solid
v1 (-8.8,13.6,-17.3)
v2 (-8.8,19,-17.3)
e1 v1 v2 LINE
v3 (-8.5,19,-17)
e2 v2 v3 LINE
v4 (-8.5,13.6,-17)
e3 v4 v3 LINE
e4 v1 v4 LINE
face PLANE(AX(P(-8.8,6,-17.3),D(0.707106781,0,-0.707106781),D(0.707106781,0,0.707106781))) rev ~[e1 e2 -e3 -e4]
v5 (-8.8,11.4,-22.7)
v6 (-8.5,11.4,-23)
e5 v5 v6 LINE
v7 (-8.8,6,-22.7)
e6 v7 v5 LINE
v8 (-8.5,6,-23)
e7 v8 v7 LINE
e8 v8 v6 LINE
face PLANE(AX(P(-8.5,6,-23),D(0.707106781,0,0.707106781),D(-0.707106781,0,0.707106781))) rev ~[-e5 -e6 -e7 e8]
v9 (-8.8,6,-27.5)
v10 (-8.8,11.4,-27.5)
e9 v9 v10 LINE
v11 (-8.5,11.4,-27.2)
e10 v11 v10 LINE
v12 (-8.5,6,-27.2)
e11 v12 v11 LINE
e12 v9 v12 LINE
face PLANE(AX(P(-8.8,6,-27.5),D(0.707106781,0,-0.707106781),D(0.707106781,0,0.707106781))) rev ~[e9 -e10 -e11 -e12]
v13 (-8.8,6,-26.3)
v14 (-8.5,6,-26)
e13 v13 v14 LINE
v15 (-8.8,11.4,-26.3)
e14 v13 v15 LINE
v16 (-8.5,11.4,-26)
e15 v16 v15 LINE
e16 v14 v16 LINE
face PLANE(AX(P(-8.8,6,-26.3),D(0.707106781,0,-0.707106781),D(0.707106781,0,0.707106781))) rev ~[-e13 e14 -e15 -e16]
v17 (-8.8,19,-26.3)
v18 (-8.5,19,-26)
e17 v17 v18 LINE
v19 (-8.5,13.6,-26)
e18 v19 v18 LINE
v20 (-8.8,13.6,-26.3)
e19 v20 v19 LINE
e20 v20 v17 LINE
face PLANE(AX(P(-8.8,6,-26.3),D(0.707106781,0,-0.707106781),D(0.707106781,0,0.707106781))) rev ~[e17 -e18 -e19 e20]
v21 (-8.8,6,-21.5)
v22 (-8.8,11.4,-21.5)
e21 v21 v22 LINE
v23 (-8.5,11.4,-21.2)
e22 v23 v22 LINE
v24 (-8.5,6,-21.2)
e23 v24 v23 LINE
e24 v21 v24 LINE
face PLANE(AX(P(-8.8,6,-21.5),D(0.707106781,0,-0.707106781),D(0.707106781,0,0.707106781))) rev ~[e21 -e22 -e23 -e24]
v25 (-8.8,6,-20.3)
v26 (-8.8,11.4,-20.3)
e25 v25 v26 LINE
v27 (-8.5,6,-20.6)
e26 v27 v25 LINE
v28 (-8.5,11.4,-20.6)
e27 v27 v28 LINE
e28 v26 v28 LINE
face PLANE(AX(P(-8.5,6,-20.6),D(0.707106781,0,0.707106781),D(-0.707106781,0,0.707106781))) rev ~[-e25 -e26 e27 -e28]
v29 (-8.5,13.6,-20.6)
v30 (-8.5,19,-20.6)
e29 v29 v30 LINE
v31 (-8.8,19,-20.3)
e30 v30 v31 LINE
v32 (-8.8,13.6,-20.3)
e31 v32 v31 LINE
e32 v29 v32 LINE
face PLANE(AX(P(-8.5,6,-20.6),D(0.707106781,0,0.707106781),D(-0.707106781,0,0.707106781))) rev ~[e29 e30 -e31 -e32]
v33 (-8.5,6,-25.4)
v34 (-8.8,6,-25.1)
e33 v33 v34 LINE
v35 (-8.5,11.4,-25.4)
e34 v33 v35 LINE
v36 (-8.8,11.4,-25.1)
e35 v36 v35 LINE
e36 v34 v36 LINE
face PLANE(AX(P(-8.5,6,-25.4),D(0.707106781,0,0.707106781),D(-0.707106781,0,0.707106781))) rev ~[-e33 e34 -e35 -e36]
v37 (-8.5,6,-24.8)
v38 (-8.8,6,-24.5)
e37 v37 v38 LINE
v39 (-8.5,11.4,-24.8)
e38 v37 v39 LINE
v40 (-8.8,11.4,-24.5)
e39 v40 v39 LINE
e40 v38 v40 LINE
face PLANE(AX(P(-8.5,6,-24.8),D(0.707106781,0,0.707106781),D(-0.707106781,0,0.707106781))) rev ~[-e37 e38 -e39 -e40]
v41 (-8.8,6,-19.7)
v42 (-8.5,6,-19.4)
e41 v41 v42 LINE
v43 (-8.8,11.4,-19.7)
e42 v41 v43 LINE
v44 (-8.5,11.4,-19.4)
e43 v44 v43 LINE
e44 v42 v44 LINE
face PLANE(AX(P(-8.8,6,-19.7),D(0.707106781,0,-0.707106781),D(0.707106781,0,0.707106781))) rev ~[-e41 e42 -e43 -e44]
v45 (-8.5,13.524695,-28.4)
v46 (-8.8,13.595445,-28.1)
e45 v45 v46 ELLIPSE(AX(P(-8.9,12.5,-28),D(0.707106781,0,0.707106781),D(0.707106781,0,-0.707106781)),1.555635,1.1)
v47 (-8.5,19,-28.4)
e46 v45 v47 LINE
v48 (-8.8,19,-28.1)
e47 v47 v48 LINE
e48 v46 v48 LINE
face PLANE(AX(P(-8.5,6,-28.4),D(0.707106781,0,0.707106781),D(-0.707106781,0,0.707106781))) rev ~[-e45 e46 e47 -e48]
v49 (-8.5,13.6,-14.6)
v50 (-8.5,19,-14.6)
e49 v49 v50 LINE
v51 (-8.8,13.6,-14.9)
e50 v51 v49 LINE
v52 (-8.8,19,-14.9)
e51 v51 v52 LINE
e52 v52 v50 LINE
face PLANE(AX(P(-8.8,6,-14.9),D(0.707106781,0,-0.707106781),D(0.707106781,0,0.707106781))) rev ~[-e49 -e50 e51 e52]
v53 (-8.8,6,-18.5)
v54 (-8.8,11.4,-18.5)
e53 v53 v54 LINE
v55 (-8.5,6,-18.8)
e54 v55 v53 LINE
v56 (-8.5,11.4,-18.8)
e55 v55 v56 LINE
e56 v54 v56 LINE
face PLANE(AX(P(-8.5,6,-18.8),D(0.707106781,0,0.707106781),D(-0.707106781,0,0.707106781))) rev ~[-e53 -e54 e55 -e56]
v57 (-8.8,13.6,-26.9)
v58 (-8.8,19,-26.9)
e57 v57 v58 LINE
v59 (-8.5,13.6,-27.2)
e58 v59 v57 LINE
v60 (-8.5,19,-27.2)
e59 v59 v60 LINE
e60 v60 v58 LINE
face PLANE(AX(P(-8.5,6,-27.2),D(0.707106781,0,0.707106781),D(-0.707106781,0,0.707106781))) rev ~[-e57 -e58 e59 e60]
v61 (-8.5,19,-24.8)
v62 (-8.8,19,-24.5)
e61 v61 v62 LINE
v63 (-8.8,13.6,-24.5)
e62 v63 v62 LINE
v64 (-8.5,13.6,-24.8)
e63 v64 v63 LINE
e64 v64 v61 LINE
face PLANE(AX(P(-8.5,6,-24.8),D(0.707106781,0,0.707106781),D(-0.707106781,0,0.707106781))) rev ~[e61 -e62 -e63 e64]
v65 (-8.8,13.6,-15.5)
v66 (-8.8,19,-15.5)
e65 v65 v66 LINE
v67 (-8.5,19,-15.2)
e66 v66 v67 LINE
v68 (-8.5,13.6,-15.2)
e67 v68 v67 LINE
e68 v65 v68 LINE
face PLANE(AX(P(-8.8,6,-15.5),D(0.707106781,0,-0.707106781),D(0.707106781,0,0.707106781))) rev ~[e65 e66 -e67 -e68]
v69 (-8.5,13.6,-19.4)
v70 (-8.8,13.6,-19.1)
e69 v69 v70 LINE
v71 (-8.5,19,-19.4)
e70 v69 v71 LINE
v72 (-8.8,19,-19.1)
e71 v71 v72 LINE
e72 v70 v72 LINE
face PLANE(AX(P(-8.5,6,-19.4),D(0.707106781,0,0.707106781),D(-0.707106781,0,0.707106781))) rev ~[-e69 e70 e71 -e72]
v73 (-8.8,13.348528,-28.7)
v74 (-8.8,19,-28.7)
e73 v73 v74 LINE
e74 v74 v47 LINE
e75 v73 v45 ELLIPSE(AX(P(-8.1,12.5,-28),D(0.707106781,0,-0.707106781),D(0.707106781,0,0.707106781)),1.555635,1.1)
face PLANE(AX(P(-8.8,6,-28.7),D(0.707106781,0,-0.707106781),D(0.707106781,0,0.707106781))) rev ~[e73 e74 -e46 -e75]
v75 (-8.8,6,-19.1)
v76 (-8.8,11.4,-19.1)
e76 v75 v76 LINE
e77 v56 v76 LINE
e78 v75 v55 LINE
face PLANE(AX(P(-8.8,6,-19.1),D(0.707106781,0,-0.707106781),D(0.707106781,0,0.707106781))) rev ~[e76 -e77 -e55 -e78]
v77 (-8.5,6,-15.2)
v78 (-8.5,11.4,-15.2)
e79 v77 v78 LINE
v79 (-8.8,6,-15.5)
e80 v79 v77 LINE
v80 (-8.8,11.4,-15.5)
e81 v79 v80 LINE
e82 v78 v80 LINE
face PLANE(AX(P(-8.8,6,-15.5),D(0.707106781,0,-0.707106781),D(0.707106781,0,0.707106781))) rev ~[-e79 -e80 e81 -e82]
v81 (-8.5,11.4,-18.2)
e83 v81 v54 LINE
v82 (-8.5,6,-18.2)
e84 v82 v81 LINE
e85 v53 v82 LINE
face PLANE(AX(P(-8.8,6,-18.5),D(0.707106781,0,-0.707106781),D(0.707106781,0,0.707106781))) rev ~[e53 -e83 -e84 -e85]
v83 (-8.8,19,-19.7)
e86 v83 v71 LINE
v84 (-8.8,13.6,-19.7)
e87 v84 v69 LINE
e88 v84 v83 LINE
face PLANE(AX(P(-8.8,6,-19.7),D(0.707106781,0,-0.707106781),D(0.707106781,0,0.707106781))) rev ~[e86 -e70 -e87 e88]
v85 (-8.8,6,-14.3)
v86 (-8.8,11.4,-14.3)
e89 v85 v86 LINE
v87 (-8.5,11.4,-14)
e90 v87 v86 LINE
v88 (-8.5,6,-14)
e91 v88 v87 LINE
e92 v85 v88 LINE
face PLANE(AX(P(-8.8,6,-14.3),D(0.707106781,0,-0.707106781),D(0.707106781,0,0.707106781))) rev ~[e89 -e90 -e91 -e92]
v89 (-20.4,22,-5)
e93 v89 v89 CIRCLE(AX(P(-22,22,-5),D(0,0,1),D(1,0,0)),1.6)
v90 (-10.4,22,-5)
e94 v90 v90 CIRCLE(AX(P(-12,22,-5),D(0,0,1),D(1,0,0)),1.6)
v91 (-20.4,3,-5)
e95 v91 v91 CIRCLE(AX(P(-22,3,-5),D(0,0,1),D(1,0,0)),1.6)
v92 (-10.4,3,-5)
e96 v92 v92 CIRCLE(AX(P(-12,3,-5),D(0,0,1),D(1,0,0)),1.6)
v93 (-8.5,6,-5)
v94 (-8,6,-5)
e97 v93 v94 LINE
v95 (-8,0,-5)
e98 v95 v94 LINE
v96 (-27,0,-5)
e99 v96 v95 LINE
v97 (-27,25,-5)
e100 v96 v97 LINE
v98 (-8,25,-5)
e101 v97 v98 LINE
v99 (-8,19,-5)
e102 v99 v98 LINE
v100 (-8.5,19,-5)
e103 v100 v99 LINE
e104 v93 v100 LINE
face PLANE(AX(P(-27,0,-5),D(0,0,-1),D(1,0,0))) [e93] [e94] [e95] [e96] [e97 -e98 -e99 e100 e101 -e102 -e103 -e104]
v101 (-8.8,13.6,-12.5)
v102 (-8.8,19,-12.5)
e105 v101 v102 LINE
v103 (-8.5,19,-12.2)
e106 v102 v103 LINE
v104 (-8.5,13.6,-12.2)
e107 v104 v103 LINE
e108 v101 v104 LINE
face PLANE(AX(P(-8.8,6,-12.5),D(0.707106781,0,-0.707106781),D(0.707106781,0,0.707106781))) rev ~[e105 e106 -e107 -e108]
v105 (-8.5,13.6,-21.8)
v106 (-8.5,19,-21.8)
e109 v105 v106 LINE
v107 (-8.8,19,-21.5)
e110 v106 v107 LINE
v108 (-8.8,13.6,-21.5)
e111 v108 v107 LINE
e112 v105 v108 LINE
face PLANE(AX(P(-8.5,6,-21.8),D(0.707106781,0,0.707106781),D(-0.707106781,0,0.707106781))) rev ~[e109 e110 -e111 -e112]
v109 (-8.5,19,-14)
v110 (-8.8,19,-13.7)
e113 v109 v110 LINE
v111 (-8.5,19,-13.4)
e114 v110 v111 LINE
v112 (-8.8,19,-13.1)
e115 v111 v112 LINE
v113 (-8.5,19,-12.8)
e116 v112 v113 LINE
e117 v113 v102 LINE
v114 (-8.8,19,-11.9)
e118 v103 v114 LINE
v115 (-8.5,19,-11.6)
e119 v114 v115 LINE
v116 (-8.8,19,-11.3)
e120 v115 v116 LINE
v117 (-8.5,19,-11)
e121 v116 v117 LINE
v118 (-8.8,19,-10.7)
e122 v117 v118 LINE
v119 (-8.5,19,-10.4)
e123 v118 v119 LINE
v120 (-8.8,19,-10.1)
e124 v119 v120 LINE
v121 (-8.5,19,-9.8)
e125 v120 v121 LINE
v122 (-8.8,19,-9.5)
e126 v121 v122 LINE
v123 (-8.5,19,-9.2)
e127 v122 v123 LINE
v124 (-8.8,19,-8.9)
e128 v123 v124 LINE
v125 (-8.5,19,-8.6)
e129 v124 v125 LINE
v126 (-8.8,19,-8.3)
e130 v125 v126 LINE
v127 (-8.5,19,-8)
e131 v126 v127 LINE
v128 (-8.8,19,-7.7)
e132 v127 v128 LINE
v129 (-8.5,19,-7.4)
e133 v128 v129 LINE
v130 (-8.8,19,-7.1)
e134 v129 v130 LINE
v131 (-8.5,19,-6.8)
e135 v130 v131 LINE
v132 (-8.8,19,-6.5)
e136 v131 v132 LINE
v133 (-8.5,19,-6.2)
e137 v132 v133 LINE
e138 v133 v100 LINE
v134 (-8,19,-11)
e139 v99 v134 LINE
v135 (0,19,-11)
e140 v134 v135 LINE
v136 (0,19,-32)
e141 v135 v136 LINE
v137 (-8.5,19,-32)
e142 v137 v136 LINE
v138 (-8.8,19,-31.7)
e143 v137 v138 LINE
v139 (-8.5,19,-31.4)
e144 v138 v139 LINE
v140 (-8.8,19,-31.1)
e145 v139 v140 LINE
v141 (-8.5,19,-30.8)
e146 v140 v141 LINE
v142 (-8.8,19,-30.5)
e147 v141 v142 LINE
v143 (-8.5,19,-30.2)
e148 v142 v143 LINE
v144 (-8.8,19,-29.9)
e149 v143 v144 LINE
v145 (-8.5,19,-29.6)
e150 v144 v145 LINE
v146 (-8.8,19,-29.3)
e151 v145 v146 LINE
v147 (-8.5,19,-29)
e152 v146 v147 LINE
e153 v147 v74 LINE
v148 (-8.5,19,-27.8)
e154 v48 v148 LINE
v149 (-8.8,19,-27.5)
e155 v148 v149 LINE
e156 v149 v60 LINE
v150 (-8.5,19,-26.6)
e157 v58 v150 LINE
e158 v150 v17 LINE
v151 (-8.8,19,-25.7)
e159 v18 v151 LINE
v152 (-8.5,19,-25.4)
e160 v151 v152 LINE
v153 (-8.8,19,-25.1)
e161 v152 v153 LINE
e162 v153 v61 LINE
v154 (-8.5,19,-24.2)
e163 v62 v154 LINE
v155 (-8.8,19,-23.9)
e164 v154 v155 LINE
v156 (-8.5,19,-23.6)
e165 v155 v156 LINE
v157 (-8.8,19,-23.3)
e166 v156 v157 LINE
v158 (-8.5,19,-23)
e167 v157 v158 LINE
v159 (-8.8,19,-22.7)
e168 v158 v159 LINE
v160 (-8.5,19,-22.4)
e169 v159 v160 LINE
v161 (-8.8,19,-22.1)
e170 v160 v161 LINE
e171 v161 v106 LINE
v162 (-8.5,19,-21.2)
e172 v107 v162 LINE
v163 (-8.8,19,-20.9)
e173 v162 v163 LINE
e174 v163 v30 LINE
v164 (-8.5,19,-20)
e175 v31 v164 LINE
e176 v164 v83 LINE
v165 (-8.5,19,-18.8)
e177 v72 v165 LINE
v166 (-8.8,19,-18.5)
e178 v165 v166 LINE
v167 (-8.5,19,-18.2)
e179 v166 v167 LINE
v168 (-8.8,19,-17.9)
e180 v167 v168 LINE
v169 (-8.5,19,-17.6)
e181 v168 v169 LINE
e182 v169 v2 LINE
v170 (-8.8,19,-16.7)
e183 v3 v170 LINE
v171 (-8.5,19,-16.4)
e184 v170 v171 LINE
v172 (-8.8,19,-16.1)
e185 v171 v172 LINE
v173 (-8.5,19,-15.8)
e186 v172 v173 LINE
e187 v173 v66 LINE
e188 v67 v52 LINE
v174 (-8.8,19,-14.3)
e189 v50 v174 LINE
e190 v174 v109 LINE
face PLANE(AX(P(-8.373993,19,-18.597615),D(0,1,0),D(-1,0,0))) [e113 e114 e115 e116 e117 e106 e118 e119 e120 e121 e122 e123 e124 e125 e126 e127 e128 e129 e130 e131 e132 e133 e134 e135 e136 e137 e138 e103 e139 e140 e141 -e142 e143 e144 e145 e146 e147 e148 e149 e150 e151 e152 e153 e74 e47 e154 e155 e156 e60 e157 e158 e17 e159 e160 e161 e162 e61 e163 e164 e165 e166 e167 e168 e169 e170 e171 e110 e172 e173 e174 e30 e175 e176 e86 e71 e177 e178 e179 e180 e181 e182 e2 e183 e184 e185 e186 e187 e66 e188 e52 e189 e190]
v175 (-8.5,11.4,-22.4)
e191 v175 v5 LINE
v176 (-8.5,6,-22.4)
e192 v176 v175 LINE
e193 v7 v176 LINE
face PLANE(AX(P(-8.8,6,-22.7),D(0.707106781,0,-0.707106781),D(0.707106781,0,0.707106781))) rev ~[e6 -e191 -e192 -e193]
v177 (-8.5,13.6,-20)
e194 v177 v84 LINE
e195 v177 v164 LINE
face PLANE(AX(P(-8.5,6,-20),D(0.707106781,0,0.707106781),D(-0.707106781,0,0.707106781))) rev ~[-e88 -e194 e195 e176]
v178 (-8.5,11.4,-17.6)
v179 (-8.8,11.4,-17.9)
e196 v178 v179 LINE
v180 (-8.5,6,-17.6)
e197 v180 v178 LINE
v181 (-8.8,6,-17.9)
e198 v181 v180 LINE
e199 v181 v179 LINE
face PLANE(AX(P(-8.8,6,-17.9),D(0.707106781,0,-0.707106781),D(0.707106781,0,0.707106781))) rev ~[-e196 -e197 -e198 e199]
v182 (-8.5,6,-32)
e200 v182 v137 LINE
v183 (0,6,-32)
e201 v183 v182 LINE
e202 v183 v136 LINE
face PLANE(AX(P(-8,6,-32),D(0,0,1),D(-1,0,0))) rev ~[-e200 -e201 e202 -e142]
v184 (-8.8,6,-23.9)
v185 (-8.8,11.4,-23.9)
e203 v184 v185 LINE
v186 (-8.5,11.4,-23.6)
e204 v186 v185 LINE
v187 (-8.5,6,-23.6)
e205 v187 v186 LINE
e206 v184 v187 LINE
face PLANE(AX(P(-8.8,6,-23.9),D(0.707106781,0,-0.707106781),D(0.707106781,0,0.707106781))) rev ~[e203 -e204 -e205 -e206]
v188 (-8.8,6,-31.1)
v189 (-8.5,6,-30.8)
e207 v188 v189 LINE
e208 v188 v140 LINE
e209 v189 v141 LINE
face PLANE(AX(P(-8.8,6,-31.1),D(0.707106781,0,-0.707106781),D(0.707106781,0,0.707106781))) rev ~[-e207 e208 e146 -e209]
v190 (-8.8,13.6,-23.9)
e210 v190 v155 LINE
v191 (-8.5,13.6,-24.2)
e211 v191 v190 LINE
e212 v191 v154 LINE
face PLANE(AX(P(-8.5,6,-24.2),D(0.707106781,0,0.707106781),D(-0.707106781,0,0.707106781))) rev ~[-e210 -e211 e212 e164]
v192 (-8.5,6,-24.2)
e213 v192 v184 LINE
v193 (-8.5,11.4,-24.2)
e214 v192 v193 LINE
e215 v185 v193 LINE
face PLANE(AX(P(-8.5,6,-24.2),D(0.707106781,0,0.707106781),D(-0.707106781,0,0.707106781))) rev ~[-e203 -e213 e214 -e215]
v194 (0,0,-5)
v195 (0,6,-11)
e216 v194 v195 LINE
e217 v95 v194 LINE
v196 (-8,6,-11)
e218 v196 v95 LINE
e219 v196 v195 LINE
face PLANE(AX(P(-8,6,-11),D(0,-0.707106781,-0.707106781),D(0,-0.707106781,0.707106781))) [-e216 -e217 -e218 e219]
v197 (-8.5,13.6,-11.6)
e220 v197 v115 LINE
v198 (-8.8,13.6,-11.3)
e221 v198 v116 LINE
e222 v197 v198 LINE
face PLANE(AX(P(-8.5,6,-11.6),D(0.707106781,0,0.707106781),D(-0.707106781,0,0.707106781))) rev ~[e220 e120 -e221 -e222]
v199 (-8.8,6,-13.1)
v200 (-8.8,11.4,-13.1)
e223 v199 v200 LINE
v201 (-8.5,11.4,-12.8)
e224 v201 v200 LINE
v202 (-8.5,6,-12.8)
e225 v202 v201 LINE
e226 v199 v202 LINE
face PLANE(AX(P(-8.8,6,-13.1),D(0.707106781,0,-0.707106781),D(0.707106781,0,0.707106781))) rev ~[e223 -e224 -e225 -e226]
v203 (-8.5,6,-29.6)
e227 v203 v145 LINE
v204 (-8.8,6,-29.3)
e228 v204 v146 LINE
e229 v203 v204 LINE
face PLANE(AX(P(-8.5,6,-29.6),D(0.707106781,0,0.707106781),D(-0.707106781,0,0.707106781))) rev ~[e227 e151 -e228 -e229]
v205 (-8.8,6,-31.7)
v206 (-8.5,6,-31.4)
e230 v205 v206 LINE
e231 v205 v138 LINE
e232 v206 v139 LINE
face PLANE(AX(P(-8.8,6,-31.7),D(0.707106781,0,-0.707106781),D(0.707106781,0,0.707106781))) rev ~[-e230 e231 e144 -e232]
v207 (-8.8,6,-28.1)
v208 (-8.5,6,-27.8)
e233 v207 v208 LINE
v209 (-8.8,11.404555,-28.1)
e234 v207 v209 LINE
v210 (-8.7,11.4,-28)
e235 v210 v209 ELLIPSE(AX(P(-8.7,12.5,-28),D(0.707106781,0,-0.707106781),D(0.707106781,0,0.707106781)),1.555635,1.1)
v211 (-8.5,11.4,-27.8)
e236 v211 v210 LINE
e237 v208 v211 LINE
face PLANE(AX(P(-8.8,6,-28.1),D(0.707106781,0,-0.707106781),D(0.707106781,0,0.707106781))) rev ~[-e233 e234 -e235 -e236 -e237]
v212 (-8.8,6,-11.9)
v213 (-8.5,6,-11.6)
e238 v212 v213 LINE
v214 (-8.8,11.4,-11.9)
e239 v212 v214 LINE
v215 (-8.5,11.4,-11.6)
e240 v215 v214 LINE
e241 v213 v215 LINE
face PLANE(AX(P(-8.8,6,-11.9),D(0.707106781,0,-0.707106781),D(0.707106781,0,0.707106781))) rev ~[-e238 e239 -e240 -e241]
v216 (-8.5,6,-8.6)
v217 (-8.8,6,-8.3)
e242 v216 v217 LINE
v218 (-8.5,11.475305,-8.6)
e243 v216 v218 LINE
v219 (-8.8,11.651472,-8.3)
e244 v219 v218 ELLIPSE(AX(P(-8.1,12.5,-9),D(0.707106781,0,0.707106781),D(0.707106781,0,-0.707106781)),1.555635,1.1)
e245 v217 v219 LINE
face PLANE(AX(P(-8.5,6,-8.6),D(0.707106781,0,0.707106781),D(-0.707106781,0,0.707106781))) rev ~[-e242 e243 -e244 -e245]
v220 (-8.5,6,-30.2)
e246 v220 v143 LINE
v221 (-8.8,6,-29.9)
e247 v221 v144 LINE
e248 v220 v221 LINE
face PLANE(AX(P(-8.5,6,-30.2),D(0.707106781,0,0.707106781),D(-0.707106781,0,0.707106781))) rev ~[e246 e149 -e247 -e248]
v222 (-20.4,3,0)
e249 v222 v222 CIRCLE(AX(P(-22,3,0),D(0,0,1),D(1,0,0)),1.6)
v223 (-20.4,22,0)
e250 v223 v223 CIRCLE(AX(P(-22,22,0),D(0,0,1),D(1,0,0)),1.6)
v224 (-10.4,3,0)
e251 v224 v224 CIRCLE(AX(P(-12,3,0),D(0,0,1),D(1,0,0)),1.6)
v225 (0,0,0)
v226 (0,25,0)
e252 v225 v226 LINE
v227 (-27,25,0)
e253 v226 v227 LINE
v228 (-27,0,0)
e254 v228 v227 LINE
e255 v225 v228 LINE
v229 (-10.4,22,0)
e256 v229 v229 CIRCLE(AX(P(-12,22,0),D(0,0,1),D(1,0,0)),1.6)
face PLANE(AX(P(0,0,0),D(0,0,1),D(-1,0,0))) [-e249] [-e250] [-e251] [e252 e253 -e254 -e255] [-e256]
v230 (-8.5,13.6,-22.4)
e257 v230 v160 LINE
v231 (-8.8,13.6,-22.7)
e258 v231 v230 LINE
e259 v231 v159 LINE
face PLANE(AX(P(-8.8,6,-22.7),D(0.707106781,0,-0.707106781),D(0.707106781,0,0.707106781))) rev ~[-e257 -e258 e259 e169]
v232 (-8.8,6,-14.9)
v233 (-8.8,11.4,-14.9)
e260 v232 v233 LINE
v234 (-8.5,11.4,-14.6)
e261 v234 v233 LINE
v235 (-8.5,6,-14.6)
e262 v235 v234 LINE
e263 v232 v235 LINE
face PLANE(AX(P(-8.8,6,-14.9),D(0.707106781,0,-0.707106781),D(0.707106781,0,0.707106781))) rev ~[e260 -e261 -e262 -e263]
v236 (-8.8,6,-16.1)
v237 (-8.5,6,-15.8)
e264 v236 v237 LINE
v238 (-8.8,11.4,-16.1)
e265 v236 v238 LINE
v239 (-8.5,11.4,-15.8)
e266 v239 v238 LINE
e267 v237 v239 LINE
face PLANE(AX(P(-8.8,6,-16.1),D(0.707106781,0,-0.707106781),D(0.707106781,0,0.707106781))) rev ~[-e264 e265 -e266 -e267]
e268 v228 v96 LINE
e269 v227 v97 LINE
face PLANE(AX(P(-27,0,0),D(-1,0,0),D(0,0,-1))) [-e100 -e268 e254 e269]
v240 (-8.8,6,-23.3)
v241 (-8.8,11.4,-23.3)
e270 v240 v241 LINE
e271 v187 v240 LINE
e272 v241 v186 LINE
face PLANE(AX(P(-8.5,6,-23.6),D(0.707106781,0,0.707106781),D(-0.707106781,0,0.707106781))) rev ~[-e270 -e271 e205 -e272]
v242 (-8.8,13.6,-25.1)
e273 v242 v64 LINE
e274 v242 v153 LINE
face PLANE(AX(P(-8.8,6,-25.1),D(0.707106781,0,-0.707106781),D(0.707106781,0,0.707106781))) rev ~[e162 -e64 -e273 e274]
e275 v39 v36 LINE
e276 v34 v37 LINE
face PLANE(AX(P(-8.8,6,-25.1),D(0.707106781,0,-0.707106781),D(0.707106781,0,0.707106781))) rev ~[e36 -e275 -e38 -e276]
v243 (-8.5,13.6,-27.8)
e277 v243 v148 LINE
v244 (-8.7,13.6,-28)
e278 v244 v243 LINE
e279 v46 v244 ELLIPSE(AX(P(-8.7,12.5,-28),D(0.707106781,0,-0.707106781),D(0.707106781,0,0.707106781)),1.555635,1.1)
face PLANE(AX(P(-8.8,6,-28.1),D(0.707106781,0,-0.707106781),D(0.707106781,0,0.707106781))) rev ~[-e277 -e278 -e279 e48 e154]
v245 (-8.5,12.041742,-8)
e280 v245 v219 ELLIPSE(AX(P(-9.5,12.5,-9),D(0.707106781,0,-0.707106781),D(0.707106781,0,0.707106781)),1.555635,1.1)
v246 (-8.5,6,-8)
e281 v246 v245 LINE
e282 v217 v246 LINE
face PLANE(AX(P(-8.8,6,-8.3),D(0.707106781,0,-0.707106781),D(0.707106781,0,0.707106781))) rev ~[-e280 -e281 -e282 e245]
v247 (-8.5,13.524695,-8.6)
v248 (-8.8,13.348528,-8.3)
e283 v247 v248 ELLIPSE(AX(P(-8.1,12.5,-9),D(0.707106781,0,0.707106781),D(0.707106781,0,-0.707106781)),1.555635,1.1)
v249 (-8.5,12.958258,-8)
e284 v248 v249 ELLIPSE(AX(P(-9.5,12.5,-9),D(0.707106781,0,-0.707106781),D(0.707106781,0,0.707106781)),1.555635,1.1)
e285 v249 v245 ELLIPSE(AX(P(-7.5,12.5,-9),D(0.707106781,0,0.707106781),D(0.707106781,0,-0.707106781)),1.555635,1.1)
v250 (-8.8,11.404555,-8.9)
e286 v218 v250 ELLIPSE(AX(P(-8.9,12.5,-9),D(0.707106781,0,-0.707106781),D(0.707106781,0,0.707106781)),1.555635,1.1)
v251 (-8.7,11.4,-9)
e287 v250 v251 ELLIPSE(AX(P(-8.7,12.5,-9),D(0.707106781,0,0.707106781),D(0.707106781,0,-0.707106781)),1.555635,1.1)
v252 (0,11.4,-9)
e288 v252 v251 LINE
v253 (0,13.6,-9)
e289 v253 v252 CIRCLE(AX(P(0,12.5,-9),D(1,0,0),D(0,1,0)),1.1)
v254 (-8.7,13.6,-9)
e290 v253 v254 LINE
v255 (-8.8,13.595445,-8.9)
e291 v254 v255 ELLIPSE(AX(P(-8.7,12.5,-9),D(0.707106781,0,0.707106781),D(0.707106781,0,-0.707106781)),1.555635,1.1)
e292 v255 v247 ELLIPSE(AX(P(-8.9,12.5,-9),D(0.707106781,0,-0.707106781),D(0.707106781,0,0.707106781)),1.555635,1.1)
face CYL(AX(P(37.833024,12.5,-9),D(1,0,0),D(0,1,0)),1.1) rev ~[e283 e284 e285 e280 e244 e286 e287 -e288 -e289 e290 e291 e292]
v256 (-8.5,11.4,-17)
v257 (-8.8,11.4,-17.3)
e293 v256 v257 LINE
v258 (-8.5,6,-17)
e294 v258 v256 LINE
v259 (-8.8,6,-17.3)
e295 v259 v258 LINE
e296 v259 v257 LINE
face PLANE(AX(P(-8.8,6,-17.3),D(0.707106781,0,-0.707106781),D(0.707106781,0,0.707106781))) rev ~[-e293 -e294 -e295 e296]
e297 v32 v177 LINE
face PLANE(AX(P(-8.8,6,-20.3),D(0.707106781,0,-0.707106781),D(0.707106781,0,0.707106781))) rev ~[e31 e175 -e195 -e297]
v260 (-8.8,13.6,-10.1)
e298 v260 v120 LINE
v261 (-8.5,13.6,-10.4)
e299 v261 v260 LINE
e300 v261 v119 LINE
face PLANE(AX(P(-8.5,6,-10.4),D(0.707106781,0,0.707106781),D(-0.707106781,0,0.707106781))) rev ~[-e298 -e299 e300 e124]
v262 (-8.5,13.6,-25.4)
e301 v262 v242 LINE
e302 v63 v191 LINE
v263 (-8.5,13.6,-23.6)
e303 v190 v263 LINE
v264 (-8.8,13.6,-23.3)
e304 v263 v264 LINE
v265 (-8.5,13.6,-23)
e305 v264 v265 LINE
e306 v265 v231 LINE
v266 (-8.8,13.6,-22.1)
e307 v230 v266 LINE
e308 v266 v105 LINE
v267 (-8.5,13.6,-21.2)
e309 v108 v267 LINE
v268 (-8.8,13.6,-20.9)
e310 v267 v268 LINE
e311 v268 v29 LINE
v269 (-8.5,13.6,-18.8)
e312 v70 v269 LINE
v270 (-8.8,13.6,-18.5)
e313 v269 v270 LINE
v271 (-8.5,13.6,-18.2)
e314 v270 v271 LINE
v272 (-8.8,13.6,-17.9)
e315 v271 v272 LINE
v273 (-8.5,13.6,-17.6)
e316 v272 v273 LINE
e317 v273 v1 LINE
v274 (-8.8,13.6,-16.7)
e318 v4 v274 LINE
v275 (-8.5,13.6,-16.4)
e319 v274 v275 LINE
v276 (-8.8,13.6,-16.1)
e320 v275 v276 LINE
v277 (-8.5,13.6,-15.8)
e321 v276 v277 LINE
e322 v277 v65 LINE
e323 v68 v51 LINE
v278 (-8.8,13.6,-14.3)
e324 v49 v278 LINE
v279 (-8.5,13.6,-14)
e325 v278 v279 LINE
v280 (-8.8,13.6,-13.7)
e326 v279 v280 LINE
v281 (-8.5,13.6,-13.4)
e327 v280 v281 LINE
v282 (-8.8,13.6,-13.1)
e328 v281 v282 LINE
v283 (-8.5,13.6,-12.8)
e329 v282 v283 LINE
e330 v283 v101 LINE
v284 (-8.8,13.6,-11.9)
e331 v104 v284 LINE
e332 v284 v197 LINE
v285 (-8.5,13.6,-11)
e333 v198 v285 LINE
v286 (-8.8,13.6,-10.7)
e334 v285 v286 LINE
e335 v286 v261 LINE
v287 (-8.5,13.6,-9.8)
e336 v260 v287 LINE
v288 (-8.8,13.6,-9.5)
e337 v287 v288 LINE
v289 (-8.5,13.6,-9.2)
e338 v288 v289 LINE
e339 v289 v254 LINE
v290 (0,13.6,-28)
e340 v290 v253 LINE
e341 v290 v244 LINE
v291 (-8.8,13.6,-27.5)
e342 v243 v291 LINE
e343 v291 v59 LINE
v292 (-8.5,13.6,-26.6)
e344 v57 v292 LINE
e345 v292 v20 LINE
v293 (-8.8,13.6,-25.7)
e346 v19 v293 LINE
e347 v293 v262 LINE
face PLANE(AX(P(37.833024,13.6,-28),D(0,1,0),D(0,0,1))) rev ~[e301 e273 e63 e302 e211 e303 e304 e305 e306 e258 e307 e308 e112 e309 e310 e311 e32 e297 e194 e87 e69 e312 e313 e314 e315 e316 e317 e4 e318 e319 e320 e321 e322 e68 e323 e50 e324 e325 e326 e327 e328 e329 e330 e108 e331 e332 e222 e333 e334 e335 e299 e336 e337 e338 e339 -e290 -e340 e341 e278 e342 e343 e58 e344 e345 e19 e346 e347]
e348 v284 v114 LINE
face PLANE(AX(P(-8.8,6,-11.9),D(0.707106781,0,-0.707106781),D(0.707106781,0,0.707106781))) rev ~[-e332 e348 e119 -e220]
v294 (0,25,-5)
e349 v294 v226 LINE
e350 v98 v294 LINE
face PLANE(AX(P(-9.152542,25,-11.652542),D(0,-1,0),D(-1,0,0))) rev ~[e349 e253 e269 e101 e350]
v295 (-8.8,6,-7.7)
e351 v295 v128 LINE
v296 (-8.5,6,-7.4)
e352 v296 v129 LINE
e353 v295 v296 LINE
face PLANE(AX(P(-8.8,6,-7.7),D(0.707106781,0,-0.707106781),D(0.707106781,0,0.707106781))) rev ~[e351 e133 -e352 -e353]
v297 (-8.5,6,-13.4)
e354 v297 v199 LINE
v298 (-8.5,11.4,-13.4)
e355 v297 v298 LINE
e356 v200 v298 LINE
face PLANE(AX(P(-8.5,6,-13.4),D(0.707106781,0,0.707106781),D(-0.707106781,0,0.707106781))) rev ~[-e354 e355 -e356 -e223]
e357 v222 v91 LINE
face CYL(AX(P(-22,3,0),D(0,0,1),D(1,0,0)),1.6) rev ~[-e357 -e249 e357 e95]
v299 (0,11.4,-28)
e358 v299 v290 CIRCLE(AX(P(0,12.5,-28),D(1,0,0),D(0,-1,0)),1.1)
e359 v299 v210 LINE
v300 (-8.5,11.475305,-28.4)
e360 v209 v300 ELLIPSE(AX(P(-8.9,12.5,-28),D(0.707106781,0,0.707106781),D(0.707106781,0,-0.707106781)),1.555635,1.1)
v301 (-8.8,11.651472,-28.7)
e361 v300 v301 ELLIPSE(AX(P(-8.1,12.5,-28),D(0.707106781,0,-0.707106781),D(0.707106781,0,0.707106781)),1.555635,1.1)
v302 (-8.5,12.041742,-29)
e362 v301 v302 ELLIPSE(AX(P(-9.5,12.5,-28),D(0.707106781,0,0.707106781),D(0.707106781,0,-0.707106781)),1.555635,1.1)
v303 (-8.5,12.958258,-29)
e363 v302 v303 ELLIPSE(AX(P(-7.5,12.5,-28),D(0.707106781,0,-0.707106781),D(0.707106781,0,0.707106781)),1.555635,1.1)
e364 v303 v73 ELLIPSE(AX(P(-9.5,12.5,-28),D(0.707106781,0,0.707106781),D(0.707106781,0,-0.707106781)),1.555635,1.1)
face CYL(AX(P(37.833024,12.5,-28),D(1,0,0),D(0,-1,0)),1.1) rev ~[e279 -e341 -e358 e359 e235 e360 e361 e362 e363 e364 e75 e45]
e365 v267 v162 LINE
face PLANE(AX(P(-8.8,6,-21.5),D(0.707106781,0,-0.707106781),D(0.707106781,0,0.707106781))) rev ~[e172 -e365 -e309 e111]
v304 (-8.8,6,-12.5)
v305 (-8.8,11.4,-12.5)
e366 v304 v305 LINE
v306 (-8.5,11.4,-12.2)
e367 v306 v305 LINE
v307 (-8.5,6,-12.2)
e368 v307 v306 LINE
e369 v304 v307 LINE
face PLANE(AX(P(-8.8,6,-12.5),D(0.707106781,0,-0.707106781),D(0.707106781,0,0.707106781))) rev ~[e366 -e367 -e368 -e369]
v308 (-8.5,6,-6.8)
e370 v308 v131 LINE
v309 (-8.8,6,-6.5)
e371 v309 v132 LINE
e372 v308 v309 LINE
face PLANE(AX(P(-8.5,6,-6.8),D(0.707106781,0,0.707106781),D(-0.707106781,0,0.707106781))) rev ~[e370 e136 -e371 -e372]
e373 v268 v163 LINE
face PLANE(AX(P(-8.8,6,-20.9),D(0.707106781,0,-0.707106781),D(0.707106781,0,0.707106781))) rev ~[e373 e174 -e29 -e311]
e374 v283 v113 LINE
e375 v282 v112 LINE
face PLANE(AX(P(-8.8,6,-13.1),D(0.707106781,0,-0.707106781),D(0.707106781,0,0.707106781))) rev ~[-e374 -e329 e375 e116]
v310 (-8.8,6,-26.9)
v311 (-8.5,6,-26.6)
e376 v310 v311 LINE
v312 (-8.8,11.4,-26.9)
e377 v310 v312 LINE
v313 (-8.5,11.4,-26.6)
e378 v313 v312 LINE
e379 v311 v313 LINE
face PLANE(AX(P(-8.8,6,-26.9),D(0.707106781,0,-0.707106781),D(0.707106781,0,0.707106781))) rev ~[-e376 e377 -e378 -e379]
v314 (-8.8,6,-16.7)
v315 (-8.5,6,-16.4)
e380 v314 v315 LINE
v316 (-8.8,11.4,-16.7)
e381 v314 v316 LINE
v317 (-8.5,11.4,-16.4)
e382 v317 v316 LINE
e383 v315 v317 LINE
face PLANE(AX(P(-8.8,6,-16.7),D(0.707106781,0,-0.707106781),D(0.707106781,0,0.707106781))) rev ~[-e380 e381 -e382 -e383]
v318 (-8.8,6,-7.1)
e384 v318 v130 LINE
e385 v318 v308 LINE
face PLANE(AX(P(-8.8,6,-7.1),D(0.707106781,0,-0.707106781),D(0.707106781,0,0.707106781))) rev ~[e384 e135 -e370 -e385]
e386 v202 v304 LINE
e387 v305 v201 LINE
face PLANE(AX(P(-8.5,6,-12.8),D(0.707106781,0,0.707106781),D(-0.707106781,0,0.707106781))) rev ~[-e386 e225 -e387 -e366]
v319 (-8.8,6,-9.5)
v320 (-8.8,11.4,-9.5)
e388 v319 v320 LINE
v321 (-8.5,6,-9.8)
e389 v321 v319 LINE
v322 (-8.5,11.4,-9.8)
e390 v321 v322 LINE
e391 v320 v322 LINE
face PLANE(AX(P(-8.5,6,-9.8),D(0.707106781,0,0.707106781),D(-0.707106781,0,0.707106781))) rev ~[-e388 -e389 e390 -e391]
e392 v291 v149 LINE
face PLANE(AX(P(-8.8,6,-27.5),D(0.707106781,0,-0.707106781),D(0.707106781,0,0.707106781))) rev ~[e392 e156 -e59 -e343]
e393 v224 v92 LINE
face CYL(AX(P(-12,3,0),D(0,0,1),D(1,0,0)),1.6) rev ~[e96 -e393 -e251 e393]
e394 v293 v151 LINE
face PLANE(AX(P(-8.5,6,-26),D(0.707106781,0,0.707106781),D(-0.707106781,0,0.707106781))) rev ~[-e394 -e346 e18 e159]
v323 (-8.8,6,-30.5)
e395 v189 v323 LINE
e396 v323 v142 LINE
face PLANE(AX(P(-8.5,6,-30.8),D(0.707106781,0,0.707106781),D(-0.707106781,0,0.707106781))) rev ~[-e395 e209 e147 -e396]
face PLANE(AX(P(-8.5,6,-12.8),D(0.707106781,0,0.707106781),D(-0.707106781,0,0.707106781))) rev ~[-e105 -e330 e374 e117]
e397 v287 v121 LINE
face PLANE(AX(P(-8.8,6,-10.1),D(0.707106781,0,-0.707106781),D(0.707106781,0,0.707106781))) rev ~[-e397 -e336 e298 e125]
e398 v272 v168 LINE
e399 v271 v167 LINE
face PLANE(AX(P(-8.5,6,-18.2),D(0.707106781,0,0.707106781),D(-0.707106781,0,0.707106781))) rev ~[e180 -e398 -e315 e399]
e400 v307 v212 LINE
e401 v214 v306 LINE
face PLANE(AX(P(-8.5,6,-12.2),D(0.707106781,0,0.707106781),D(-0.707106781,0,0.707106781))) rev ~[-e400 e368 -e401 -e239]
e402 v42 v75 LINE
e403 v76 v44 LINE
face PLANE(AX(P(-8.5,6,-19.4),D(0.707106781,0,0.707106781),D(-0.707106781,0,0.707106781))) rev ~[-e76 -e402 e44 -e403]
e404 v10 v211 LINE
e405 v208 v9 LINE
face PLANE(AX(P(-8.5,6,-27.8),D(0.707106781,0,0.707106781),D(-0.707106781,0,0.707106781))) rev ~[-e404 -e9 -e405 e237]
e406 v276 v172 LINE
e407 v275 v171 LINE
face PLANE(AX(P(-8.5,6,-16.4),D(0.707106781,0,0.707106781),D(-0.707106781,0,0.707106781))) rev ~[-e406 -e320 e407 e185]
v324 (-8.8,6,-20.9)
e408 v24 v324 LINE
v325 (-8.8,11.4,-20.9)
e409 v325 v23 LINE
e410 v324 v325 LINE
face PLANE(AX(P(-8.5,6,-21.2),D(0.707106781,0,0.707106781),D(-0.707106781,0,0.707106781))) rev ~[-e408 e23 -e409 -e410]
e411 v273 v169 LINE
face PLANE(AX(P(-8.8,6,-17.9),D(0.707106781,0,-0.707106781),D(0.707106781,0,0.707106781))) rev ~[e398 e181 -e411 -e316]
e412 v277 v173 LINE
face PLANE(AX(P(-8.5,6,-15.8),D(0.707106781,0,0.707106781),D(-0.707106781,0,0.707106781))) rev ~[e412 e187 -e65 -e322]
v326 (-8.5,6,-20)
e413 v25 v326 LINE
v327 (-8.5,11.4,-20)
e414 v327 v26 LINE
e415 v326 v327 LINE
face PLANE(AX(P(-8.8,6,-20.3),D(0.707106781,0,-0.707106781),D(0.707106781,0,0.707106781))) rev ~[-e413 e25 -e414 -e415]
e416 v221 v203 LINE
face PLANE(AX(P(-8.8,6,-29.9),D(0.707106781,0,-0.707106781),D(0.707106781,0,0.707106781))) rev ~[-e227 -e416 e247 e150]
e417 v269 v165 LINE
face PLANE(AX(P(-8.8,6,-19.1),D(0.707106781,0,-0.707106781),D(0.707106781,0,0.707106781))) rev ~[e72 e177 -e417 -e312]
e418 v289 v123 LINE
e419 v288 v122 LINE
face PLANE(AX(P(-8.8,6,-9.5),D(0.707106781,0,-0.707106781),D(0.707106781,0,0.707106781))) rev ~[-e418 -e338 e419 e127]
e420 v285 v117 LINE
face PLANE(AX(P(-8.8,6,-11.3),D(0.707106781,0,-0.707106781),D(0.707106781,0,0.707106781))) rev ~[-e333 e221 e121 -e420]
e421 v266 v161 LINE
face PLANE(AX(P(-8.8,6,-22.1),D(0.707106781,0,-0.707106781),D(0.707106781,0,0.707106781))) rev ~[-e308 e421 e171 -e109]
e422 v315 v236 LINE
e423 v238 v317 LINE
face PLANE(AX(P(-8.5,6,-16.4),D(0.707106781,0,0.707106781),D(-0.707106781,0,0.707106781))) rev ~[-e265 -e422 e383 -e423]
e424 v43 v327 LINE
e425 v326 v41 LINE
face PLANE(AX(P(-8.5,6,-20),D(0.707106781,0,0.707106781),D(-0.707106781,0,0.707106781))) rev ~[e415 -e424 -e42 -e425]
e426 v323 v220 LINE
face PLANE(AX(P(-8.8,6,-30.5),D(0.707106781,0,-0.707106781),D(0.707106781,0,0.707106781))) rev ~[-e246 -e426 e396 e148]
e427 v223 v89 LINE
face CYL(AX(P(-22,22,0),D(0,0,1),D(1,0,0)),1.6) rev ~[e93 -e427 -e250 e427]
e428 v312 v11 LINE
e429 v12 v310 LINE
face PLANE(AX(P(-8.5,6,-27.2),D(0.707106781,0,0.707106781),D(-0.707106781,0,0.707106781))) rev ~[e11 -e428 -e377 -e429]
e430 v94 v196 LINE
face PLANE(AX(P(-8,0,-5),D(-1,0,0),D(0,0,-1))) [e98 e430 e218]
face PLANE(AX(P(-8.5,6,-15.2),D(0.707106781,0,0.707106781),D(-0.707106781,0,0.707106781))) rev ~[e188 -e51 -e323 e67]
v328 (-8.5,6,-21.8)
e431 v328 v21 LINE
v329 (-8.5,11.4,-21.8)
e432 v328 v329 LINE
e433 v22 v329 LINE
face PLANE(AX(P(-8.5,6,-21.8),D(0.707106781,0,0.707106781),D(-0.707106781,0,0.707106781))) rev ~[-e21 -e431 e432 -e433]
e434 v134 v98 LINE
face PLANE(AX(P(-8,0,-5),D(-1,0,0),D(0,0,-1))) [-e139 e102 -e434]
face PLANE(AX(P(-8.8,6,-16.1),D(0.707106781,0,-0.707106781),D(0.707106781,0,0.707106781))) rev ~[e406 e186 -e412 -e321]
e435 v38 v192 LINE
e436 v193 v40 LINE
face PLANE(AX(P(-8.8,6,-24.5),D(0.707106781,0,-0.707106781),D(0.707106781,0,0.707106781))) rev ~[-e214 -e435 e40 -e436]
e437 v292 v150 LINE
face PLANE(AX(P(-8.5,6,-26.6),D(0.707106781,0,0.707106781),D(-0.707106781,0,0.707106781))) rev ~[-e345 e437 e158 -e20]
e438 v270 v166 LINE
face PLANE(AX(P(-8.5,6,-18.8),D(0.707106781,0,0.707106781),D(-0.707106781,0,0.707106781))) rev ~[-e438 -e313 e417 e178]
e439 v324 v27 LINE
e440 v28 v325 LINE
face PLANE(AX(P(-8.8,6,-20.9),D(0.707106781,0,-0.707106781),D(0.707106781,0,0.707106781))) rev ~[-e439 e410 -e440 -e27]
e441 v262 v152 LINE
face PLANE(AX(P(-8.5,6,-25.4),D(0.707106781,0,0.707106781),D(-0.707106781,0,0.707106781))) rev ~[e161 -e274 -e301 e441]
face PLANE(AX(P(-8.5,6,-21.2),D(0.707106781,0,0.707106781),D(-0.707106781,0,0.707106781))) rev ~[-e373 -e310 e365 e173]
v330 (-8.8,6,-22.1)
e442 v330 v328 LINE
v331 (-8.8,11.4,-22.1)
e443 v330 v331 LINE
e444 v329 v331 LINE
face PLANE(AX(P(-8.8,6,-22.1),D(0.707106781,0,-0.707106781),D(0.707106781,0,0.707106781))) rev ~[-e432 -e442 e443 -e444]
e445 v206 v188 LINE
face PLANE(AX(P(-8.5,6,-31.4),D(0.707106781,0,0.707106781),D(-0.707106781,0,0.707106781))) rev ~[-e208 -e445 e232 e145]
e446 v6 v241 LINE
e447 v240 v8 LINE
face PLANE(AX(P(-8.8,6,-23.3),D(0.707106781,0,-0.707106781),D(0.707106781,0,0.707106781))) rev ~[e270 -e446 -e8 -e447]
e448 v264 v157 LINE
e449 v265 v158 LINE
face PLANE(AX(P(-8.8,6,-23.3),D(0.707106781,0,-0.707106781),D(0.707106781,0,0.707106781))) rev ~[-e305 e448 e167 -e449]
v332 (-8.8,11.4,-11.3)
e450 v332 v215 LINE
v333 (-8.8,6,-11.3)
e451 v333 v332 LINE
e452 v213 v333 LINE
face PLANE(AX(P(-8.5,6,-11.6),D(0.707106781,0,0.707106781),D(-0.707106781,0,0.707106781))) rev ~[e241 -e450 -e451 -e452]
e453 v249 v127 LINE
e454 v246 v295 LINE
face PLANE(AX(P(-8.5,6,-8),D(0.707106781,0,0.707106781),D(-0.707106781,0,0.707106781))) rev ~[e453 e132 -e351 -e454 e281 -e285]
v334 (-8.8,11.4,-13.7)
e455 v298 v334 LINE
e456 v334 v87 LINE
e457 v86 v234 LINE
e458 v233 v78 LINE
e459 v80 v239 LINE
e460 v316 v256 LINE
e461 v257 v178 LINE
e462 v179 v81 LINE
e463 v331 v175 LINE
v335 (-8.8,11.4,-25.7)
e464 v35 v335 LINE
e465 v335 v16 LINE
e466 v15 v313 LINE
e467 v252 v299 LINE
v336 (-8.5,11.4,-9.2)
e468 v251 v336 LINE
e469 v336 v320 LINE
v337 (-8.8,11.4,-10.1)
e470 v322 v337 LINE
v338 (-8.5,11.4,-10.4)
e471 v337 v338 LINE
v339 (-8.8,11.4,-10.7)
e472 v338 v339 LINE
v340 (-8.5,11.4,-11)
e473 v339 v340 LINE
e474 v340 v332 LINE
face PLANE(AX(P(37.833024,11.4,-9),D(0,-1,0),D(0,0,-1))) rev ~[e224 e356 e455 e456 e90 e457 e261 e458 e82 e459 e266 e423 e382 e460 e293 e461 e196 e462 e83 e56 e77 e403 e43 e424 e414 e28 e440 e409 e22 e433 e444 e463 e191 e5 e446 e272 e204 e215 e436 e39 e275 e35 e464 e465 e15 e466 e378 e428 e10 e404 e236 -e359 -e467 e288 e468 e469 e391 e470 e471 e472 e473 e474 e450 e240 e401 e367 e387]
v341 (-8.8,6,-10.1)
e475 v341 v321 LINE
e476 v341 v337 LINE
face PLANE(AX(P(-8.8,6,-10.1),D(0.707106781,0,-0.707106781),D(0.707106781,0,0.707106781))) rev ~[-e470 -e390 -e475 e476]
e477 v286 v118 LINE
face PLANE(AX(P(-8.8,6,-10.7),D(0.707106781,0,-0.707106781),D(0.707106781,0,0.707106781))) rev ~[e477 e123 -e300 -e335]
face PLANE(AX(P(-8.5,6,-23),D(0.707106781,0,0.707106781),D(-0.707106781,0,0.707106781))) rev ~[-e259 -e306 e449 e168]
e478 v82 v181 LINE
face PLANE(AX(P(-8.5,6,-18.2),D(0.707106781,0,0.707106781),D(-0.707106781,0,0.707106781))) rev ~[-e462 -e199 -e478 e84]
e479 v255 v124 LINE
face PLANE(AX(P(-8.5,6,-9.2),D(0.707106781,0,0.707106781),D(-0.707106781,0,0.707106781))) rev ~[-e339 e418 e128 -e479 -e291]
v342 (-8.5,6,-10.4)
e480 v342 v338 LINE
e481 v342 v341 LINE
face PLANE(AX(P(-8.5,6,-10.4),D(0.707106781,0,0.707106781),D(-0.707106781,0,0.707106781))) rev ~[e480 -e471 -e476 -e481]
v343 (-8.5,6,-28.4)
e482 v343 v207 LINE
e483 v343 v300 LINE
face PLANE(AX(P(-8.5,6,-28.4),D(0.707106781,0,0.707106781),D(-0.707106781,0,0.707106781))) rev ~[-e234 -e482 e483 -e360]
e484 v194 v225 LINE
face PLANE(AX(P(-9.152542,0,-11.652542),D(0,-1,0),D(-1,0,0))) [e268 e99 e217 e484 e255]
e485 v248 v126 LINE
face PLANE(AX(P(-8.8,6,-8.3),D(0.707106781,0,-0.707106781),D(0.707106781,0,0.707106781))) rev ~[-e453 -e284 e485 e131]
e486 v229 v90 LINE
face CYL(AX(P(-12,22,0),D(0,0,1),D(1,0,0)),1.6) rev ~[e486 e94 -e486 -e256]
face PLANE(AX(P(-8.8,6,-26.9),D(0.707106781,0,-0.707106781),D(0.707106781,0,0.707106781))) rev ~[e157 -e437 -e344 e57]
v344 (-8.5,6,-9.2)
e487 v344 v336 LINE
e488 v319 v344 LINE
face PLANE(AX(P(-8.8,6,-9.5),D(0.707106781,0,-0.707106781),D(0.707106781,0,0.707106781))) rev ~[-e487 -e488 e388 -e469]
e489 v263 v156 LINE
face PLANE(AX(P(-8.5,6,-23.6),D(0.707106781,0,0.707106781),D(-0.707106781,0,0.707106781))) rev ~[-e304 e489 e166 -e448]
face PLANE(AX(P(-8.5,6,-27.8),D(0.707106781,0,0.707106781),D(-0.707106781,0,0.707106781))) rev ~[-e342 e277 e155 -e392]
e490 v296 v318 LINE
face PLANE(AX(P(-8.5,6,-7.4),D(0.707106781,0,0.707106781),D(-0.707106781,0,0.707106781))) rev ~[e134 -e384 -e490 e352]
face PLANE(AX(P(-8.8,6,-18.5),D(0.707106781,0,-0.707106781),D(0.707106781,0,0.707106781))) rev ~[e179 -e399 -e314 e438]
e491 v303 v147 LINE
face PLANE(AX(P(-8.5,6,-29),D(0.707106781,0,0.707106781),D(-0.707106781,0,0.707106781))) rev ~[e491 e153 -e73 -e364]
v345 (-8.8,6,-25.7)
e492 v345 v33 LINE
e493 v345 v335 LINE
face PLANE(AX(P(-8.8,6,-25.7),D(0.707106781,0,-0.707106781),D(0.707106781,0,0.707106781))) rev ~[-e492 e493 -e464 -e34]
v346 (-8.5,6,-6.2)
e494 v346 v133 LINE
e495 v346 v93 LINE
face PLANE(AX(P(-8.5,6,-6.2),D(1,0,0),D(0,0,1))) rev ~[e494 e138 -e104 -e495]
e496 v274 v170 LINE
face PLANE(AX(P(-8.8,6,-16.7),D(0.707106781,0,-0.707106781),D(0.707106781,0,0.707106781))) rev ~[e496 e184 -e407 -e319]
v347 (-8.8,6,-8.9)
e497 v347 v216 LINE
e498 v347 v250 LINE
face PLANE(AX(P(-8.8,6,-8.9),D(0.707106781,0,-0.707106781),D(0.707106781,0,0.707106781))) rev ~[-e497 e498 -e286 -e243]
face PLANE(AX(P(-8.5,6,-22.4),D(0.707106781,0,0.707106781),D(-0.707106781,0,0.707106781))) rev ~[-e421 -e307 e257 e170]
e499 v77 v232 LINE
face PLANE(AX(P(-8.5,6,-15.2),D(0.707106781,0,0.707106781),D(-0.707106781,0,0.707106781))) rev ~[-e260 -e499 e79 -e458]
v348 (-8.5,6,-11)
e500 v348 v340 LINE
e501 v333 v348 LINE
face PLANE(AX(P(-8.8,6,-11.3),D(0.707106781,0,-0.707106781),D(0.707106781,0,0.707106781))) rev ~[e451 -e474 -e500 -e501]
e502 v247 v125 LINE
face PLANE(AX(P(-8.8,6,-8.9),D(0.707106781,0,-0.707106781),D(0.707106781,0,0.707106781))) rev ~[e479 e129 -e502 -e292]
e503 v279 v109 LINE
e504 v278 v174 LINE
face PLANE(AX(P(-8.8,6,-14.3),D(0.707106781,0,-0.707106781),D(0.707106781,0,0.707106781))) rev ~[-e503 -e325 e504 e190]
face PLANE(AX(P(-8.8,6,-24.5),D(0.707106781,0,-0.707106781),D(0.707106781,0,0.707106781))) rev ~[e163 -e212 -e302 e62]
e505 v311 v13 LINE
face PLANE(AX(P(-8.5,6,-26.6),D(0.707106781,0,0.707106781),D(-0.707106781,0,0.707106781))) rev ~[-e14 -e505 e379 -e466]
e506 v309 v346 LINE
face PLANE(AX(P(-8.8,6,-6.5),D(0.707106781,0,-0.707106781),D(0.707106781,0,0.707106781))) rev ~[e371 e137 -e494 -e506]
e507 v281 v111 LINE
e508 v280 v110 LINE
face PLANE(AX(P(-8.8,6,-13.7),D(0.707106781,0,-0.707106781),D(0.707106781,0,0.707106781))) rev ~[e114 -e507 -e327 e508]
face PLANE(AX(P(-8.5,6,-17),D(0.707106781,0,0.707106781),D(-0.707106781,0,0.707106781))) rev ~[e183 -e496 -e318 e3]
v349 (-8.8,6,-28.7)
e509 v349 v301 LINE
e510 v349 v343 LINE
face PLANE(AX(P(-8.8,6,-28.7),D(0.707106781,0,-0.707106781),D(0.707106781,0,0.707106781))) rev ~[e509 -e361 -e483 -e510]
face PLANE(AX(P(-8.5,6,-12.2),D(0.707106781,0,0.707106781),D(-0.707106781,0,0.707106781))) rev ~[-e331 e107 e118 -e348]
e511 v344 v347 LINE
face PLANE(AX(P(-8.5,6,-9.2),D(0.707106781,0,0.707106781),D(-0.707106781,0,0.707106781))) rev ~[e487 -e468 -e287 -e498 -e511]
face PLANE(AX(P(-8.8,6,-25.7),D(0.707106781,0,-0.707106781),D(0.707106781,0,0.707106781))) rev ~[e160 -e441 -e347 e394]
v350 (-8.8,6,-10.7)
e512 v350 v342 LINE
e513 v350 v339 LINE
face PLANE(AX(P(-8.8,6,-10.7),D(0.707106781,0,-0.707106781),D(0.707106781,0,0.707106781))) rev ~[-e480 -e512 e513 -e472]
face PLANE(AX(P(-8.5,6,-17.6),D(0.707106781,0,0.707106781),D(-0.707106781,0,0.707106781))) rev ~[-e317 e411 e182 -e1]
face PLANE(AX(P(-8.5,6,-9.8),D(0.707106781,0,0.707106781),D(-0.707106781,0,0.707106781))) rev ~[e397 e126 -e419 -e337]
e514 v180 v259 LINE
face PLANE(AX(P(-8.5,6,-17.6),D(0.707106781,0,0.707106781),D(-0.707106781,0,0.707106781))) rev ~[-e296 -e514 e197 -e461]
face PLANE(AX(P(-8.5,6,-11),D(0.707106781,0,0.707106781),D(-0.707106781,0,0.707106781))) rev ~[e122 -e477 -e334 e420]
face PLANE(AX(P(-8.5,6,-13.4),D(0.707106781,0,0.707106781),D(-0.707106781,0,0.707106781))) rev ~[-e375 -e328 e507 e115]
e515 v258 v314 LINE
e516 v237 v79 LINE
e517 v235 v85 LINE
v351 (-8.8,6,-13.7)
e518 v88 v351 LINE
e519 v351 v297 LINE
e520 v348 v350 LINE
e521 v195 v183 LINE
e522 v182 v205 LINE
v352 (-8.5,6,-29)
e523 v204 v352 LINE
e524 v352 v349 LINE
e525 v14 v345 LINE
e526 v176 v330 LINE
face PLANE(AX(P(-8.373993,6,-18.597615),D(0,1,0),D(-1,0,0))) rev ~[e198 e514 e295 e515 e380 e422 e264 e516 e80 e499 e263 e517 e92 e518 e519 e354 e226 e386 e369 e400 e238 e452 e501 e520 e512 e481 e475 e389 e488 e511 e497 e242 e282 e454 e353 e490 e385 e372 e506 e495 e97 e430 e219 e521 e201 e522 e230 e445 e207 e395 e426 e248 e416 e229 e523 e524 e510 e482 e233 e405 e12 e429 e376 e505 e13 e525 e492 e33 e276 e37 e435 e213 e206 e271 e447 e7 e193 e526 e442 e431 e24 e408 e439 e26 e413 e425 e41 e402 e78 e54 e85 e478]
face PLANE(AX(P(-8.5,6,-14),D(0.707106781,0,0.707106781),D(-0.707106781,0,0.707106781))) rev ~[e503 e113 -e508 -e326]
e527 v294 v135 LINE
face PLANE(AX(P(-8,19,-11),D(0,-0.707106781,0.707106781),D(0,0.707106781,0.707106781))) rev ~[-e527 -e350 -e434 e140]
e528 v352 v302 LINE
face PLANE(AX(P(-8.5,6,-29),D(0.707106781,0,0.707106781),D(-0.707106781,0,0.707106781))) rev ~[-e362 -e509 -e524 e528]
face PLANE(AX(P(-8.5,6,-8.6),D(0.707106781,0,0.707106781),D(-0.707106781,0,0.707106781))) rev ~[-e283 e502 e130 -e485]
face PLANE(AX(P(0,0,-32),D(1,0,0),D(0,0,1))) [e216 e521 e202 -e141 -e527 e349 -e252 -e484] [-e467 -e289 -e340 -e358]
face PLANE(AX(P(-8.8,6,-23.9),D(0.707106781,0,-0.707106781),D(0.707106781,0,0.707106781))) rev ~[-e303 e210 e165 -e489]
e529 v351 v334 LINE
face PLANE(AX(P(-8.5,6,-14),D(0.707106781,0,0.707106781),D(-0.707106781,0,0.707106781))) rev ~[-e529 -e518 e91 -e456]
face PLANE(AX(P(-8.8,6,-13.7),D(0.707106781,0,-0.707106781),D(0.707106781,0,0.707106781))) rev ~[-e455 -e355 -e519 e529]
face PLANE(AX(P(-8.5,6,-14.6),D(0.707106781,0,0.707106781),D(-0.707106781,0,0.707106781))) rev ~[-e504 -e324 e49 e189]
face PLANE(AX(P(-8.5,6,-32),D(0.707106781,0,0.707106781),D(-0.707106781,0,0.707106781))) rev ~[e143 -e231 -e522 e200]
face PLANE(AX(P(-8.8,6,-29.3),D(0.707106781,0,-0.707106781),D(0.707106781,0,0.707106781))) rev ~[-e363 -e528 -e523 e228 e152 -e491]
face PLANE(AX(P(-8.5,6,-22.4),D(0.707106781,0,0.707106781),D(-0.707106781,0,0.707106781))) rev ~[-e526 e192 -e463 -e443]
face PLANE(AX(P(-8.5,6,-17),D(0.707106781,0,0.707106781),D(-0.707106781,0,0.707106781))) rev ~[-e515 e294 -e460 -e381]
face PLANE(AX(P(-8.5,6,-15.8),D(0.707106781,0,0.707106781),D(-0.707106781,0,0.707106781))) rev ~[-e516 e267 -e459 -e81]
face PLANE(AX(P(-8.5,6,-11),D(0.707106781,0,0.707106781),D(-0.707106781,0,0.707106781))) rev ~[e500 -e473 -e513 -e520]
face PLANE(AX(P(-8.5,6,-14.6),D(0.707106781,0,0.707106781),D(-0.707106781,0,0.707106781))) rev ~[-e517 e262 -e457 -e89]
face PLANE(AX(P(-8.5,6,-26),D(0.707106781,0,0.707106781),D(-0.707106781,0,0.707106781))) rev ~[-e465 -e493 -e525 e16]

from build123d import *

# Parameters (mm, degrees)
EXTRUDE_1_DEPTH          = 25
SKETCH_4_R               = 1.6
CUT_EXTRUDE_2_DEPTH      = 49.764741361
CUT_EXTRUDE_5_DEPTH      = 45.833023543
EXTRUDE_2_DEPTH          = 13
CUT_EXTRUDE_4_DEPTH      = 10
CUT_EXTRUDE_4_DEPTH_BACK = 45.833023543


with BuildPart() as part:
    # 草图1 → 凸台-拉伸1 (new body)
    with BuildSketch(Plane(origin=(0, 0, 0), x_dir=(1, 0, 0), z_dir=(0, 1, 0))):
        Polygon((0, 0), (-27, 0), (-27, 5), (-8, 5), (-8, 32), (0, 32), align=None)
    extrude(amount=EXTRUDE_1_DEPTH)

    # 草图4 → 切除-拉伸2 (cut, through all)
    with BuildSketch(Plane.XY):
        with Locations((-22, 22)):
            Circle(SKETCH_4_R)
        with Locations((-12, 22)):
            Circle(SKETCH_4_R)
        with Locations((-22, 3)):
            Circle(SKETCH_4_R)
        with Locations((-12, 3)):
            Circle(SKETCH_4_R)
    extrude(amount=-CUT_EXTRUDE_2_DEPTH, mode=Mode.SUBTRACT)

    # 草图8 → 切除-拉伸5 (cut, through all)
    with BuildSketch(Plane.ZY.offset(8)):
        Polygon((-32, 19), (-11, 19), (-5, 25), (-32, 25), align=None)
        Polygon((-11, 6), (-5, 0), (-32, 0), (-32, 6), align=None)
    extrude(amount=-CUT_EXTRUDE_5_DEPTH, mode=Mode.SUBTRACT)

    # 草图11 → 凸台-拉伸2 (add)
    with BuildSketch(Plane.XZ.offset(-6)):
        Polygon((-8, -5), (-8, -32), (-8.5, -32), (-8.8, -31.7), (-8.5, -31.4), (-8.8, -31.1), (-8.5, -30.8), (-8.8, -30.5), (-8.5, -30.2), (-8.8, -29.9), (-8.5, -29.6), (-8.8, -29.3), (-8.5, -29), (-8.8, -28.7), (-8.5, -28.4), (-8.8, -28.1), (-8.5, -27.8), (-8.8, -27.5), (-8.5, -27.2), (-8.8, -26.9), (-8.5, -26.6), (-8.8, -26.3), (-8.5, -26), (-8.8, -25.7), (-8.5, -25.4), (-8.8, -25.1), (-8.5, -24.8), (-8.8, -24.5), (-8.5, -24.2), (-8.8, -23.9), (-8.5, -23.6), (-8.8, -23.3), (-8.5, -23), (-8.8, -22.7), (-8.5, -22.4), (-8.8, -22.1), (-8.5, -21.8), (-8.8, -21.5), (-8.5, -21.2), (-8.8, -20.9), (-8.5, -20.6), (-8.8, -20.3), (-8.5, -20), (-8.8, -19.7), (-8.5, -19.4), (-8.8, -19.1), (-8.5, -18.8), (-8.8, -18.5), (-8.5, -18.2), (-8.8, -17.9), (-8.5, -17.6), (-8.8, -17.3), (-8.5, -17), (-8.8, -16.7), (-8.5, -16.4), (-8.8, -16.1), (-8.5, -15.8), (-8.8, -15.5), (-8.5, -15.2), (-8.8, -14.9), (-8.5, -14.6), (-8.8, -14.3), (-8.5, -14), (-8.8, -13.7), (-8.5, -13.4), (-8.8, -13.1), (-8.5, -12.8), (-8.8, -12.5), (-8.5, -12.2), (-8.8, -11.9), (-8.5, -11.6), (-8.8, -11.3), (-8.5, -11), (-8.8, -10.7), (-8.5, -10.4), (-8.8, -10.1), (-8.5, -9.8), (-8.8, -9.5), (-8.5, -9.2), (-8.8, -8.9), (-8.5, -8.6), (-8.8, -8.3), (-8.5, -8), (-8.8, -7.7), (-8.5, -7.4), (-8.8, -7.1), (-8.5, -6.8), (-8.8, -6.5), (-8.5, -6.2), (-8.5, -5), align=None)
    extrude(amount=-EXTRUDE_2_DEPTH)

    # 草图6 → 切除-拉伸4 (cut, two sides: drawn at the far end of the back side and taken through both)
    with BuildSketch(Plane.ZY.offset(8).offset(-CUT_EXTRUDE_4_DEPTH_BACK)):
        with BuildLine():
            Line((-28, 13.6), (-9, 13.6))
            ThreePointArc((-9, 13.6), (-7.9, 12.5), (-9, 11.4))
            Line((-9, 11.4), (-28, 11.4))
            ThreePointArc((-28, 11.4), (-29.1, 12.5), (-28, 13.6))
        make_face()
    extrude(amount=CUT_EXTRUDE_4_DEPTH + CUT_EXTRUDE_4_DEPTH_BACK, mode=Mode.SUBTRACT)


solid = part.part
